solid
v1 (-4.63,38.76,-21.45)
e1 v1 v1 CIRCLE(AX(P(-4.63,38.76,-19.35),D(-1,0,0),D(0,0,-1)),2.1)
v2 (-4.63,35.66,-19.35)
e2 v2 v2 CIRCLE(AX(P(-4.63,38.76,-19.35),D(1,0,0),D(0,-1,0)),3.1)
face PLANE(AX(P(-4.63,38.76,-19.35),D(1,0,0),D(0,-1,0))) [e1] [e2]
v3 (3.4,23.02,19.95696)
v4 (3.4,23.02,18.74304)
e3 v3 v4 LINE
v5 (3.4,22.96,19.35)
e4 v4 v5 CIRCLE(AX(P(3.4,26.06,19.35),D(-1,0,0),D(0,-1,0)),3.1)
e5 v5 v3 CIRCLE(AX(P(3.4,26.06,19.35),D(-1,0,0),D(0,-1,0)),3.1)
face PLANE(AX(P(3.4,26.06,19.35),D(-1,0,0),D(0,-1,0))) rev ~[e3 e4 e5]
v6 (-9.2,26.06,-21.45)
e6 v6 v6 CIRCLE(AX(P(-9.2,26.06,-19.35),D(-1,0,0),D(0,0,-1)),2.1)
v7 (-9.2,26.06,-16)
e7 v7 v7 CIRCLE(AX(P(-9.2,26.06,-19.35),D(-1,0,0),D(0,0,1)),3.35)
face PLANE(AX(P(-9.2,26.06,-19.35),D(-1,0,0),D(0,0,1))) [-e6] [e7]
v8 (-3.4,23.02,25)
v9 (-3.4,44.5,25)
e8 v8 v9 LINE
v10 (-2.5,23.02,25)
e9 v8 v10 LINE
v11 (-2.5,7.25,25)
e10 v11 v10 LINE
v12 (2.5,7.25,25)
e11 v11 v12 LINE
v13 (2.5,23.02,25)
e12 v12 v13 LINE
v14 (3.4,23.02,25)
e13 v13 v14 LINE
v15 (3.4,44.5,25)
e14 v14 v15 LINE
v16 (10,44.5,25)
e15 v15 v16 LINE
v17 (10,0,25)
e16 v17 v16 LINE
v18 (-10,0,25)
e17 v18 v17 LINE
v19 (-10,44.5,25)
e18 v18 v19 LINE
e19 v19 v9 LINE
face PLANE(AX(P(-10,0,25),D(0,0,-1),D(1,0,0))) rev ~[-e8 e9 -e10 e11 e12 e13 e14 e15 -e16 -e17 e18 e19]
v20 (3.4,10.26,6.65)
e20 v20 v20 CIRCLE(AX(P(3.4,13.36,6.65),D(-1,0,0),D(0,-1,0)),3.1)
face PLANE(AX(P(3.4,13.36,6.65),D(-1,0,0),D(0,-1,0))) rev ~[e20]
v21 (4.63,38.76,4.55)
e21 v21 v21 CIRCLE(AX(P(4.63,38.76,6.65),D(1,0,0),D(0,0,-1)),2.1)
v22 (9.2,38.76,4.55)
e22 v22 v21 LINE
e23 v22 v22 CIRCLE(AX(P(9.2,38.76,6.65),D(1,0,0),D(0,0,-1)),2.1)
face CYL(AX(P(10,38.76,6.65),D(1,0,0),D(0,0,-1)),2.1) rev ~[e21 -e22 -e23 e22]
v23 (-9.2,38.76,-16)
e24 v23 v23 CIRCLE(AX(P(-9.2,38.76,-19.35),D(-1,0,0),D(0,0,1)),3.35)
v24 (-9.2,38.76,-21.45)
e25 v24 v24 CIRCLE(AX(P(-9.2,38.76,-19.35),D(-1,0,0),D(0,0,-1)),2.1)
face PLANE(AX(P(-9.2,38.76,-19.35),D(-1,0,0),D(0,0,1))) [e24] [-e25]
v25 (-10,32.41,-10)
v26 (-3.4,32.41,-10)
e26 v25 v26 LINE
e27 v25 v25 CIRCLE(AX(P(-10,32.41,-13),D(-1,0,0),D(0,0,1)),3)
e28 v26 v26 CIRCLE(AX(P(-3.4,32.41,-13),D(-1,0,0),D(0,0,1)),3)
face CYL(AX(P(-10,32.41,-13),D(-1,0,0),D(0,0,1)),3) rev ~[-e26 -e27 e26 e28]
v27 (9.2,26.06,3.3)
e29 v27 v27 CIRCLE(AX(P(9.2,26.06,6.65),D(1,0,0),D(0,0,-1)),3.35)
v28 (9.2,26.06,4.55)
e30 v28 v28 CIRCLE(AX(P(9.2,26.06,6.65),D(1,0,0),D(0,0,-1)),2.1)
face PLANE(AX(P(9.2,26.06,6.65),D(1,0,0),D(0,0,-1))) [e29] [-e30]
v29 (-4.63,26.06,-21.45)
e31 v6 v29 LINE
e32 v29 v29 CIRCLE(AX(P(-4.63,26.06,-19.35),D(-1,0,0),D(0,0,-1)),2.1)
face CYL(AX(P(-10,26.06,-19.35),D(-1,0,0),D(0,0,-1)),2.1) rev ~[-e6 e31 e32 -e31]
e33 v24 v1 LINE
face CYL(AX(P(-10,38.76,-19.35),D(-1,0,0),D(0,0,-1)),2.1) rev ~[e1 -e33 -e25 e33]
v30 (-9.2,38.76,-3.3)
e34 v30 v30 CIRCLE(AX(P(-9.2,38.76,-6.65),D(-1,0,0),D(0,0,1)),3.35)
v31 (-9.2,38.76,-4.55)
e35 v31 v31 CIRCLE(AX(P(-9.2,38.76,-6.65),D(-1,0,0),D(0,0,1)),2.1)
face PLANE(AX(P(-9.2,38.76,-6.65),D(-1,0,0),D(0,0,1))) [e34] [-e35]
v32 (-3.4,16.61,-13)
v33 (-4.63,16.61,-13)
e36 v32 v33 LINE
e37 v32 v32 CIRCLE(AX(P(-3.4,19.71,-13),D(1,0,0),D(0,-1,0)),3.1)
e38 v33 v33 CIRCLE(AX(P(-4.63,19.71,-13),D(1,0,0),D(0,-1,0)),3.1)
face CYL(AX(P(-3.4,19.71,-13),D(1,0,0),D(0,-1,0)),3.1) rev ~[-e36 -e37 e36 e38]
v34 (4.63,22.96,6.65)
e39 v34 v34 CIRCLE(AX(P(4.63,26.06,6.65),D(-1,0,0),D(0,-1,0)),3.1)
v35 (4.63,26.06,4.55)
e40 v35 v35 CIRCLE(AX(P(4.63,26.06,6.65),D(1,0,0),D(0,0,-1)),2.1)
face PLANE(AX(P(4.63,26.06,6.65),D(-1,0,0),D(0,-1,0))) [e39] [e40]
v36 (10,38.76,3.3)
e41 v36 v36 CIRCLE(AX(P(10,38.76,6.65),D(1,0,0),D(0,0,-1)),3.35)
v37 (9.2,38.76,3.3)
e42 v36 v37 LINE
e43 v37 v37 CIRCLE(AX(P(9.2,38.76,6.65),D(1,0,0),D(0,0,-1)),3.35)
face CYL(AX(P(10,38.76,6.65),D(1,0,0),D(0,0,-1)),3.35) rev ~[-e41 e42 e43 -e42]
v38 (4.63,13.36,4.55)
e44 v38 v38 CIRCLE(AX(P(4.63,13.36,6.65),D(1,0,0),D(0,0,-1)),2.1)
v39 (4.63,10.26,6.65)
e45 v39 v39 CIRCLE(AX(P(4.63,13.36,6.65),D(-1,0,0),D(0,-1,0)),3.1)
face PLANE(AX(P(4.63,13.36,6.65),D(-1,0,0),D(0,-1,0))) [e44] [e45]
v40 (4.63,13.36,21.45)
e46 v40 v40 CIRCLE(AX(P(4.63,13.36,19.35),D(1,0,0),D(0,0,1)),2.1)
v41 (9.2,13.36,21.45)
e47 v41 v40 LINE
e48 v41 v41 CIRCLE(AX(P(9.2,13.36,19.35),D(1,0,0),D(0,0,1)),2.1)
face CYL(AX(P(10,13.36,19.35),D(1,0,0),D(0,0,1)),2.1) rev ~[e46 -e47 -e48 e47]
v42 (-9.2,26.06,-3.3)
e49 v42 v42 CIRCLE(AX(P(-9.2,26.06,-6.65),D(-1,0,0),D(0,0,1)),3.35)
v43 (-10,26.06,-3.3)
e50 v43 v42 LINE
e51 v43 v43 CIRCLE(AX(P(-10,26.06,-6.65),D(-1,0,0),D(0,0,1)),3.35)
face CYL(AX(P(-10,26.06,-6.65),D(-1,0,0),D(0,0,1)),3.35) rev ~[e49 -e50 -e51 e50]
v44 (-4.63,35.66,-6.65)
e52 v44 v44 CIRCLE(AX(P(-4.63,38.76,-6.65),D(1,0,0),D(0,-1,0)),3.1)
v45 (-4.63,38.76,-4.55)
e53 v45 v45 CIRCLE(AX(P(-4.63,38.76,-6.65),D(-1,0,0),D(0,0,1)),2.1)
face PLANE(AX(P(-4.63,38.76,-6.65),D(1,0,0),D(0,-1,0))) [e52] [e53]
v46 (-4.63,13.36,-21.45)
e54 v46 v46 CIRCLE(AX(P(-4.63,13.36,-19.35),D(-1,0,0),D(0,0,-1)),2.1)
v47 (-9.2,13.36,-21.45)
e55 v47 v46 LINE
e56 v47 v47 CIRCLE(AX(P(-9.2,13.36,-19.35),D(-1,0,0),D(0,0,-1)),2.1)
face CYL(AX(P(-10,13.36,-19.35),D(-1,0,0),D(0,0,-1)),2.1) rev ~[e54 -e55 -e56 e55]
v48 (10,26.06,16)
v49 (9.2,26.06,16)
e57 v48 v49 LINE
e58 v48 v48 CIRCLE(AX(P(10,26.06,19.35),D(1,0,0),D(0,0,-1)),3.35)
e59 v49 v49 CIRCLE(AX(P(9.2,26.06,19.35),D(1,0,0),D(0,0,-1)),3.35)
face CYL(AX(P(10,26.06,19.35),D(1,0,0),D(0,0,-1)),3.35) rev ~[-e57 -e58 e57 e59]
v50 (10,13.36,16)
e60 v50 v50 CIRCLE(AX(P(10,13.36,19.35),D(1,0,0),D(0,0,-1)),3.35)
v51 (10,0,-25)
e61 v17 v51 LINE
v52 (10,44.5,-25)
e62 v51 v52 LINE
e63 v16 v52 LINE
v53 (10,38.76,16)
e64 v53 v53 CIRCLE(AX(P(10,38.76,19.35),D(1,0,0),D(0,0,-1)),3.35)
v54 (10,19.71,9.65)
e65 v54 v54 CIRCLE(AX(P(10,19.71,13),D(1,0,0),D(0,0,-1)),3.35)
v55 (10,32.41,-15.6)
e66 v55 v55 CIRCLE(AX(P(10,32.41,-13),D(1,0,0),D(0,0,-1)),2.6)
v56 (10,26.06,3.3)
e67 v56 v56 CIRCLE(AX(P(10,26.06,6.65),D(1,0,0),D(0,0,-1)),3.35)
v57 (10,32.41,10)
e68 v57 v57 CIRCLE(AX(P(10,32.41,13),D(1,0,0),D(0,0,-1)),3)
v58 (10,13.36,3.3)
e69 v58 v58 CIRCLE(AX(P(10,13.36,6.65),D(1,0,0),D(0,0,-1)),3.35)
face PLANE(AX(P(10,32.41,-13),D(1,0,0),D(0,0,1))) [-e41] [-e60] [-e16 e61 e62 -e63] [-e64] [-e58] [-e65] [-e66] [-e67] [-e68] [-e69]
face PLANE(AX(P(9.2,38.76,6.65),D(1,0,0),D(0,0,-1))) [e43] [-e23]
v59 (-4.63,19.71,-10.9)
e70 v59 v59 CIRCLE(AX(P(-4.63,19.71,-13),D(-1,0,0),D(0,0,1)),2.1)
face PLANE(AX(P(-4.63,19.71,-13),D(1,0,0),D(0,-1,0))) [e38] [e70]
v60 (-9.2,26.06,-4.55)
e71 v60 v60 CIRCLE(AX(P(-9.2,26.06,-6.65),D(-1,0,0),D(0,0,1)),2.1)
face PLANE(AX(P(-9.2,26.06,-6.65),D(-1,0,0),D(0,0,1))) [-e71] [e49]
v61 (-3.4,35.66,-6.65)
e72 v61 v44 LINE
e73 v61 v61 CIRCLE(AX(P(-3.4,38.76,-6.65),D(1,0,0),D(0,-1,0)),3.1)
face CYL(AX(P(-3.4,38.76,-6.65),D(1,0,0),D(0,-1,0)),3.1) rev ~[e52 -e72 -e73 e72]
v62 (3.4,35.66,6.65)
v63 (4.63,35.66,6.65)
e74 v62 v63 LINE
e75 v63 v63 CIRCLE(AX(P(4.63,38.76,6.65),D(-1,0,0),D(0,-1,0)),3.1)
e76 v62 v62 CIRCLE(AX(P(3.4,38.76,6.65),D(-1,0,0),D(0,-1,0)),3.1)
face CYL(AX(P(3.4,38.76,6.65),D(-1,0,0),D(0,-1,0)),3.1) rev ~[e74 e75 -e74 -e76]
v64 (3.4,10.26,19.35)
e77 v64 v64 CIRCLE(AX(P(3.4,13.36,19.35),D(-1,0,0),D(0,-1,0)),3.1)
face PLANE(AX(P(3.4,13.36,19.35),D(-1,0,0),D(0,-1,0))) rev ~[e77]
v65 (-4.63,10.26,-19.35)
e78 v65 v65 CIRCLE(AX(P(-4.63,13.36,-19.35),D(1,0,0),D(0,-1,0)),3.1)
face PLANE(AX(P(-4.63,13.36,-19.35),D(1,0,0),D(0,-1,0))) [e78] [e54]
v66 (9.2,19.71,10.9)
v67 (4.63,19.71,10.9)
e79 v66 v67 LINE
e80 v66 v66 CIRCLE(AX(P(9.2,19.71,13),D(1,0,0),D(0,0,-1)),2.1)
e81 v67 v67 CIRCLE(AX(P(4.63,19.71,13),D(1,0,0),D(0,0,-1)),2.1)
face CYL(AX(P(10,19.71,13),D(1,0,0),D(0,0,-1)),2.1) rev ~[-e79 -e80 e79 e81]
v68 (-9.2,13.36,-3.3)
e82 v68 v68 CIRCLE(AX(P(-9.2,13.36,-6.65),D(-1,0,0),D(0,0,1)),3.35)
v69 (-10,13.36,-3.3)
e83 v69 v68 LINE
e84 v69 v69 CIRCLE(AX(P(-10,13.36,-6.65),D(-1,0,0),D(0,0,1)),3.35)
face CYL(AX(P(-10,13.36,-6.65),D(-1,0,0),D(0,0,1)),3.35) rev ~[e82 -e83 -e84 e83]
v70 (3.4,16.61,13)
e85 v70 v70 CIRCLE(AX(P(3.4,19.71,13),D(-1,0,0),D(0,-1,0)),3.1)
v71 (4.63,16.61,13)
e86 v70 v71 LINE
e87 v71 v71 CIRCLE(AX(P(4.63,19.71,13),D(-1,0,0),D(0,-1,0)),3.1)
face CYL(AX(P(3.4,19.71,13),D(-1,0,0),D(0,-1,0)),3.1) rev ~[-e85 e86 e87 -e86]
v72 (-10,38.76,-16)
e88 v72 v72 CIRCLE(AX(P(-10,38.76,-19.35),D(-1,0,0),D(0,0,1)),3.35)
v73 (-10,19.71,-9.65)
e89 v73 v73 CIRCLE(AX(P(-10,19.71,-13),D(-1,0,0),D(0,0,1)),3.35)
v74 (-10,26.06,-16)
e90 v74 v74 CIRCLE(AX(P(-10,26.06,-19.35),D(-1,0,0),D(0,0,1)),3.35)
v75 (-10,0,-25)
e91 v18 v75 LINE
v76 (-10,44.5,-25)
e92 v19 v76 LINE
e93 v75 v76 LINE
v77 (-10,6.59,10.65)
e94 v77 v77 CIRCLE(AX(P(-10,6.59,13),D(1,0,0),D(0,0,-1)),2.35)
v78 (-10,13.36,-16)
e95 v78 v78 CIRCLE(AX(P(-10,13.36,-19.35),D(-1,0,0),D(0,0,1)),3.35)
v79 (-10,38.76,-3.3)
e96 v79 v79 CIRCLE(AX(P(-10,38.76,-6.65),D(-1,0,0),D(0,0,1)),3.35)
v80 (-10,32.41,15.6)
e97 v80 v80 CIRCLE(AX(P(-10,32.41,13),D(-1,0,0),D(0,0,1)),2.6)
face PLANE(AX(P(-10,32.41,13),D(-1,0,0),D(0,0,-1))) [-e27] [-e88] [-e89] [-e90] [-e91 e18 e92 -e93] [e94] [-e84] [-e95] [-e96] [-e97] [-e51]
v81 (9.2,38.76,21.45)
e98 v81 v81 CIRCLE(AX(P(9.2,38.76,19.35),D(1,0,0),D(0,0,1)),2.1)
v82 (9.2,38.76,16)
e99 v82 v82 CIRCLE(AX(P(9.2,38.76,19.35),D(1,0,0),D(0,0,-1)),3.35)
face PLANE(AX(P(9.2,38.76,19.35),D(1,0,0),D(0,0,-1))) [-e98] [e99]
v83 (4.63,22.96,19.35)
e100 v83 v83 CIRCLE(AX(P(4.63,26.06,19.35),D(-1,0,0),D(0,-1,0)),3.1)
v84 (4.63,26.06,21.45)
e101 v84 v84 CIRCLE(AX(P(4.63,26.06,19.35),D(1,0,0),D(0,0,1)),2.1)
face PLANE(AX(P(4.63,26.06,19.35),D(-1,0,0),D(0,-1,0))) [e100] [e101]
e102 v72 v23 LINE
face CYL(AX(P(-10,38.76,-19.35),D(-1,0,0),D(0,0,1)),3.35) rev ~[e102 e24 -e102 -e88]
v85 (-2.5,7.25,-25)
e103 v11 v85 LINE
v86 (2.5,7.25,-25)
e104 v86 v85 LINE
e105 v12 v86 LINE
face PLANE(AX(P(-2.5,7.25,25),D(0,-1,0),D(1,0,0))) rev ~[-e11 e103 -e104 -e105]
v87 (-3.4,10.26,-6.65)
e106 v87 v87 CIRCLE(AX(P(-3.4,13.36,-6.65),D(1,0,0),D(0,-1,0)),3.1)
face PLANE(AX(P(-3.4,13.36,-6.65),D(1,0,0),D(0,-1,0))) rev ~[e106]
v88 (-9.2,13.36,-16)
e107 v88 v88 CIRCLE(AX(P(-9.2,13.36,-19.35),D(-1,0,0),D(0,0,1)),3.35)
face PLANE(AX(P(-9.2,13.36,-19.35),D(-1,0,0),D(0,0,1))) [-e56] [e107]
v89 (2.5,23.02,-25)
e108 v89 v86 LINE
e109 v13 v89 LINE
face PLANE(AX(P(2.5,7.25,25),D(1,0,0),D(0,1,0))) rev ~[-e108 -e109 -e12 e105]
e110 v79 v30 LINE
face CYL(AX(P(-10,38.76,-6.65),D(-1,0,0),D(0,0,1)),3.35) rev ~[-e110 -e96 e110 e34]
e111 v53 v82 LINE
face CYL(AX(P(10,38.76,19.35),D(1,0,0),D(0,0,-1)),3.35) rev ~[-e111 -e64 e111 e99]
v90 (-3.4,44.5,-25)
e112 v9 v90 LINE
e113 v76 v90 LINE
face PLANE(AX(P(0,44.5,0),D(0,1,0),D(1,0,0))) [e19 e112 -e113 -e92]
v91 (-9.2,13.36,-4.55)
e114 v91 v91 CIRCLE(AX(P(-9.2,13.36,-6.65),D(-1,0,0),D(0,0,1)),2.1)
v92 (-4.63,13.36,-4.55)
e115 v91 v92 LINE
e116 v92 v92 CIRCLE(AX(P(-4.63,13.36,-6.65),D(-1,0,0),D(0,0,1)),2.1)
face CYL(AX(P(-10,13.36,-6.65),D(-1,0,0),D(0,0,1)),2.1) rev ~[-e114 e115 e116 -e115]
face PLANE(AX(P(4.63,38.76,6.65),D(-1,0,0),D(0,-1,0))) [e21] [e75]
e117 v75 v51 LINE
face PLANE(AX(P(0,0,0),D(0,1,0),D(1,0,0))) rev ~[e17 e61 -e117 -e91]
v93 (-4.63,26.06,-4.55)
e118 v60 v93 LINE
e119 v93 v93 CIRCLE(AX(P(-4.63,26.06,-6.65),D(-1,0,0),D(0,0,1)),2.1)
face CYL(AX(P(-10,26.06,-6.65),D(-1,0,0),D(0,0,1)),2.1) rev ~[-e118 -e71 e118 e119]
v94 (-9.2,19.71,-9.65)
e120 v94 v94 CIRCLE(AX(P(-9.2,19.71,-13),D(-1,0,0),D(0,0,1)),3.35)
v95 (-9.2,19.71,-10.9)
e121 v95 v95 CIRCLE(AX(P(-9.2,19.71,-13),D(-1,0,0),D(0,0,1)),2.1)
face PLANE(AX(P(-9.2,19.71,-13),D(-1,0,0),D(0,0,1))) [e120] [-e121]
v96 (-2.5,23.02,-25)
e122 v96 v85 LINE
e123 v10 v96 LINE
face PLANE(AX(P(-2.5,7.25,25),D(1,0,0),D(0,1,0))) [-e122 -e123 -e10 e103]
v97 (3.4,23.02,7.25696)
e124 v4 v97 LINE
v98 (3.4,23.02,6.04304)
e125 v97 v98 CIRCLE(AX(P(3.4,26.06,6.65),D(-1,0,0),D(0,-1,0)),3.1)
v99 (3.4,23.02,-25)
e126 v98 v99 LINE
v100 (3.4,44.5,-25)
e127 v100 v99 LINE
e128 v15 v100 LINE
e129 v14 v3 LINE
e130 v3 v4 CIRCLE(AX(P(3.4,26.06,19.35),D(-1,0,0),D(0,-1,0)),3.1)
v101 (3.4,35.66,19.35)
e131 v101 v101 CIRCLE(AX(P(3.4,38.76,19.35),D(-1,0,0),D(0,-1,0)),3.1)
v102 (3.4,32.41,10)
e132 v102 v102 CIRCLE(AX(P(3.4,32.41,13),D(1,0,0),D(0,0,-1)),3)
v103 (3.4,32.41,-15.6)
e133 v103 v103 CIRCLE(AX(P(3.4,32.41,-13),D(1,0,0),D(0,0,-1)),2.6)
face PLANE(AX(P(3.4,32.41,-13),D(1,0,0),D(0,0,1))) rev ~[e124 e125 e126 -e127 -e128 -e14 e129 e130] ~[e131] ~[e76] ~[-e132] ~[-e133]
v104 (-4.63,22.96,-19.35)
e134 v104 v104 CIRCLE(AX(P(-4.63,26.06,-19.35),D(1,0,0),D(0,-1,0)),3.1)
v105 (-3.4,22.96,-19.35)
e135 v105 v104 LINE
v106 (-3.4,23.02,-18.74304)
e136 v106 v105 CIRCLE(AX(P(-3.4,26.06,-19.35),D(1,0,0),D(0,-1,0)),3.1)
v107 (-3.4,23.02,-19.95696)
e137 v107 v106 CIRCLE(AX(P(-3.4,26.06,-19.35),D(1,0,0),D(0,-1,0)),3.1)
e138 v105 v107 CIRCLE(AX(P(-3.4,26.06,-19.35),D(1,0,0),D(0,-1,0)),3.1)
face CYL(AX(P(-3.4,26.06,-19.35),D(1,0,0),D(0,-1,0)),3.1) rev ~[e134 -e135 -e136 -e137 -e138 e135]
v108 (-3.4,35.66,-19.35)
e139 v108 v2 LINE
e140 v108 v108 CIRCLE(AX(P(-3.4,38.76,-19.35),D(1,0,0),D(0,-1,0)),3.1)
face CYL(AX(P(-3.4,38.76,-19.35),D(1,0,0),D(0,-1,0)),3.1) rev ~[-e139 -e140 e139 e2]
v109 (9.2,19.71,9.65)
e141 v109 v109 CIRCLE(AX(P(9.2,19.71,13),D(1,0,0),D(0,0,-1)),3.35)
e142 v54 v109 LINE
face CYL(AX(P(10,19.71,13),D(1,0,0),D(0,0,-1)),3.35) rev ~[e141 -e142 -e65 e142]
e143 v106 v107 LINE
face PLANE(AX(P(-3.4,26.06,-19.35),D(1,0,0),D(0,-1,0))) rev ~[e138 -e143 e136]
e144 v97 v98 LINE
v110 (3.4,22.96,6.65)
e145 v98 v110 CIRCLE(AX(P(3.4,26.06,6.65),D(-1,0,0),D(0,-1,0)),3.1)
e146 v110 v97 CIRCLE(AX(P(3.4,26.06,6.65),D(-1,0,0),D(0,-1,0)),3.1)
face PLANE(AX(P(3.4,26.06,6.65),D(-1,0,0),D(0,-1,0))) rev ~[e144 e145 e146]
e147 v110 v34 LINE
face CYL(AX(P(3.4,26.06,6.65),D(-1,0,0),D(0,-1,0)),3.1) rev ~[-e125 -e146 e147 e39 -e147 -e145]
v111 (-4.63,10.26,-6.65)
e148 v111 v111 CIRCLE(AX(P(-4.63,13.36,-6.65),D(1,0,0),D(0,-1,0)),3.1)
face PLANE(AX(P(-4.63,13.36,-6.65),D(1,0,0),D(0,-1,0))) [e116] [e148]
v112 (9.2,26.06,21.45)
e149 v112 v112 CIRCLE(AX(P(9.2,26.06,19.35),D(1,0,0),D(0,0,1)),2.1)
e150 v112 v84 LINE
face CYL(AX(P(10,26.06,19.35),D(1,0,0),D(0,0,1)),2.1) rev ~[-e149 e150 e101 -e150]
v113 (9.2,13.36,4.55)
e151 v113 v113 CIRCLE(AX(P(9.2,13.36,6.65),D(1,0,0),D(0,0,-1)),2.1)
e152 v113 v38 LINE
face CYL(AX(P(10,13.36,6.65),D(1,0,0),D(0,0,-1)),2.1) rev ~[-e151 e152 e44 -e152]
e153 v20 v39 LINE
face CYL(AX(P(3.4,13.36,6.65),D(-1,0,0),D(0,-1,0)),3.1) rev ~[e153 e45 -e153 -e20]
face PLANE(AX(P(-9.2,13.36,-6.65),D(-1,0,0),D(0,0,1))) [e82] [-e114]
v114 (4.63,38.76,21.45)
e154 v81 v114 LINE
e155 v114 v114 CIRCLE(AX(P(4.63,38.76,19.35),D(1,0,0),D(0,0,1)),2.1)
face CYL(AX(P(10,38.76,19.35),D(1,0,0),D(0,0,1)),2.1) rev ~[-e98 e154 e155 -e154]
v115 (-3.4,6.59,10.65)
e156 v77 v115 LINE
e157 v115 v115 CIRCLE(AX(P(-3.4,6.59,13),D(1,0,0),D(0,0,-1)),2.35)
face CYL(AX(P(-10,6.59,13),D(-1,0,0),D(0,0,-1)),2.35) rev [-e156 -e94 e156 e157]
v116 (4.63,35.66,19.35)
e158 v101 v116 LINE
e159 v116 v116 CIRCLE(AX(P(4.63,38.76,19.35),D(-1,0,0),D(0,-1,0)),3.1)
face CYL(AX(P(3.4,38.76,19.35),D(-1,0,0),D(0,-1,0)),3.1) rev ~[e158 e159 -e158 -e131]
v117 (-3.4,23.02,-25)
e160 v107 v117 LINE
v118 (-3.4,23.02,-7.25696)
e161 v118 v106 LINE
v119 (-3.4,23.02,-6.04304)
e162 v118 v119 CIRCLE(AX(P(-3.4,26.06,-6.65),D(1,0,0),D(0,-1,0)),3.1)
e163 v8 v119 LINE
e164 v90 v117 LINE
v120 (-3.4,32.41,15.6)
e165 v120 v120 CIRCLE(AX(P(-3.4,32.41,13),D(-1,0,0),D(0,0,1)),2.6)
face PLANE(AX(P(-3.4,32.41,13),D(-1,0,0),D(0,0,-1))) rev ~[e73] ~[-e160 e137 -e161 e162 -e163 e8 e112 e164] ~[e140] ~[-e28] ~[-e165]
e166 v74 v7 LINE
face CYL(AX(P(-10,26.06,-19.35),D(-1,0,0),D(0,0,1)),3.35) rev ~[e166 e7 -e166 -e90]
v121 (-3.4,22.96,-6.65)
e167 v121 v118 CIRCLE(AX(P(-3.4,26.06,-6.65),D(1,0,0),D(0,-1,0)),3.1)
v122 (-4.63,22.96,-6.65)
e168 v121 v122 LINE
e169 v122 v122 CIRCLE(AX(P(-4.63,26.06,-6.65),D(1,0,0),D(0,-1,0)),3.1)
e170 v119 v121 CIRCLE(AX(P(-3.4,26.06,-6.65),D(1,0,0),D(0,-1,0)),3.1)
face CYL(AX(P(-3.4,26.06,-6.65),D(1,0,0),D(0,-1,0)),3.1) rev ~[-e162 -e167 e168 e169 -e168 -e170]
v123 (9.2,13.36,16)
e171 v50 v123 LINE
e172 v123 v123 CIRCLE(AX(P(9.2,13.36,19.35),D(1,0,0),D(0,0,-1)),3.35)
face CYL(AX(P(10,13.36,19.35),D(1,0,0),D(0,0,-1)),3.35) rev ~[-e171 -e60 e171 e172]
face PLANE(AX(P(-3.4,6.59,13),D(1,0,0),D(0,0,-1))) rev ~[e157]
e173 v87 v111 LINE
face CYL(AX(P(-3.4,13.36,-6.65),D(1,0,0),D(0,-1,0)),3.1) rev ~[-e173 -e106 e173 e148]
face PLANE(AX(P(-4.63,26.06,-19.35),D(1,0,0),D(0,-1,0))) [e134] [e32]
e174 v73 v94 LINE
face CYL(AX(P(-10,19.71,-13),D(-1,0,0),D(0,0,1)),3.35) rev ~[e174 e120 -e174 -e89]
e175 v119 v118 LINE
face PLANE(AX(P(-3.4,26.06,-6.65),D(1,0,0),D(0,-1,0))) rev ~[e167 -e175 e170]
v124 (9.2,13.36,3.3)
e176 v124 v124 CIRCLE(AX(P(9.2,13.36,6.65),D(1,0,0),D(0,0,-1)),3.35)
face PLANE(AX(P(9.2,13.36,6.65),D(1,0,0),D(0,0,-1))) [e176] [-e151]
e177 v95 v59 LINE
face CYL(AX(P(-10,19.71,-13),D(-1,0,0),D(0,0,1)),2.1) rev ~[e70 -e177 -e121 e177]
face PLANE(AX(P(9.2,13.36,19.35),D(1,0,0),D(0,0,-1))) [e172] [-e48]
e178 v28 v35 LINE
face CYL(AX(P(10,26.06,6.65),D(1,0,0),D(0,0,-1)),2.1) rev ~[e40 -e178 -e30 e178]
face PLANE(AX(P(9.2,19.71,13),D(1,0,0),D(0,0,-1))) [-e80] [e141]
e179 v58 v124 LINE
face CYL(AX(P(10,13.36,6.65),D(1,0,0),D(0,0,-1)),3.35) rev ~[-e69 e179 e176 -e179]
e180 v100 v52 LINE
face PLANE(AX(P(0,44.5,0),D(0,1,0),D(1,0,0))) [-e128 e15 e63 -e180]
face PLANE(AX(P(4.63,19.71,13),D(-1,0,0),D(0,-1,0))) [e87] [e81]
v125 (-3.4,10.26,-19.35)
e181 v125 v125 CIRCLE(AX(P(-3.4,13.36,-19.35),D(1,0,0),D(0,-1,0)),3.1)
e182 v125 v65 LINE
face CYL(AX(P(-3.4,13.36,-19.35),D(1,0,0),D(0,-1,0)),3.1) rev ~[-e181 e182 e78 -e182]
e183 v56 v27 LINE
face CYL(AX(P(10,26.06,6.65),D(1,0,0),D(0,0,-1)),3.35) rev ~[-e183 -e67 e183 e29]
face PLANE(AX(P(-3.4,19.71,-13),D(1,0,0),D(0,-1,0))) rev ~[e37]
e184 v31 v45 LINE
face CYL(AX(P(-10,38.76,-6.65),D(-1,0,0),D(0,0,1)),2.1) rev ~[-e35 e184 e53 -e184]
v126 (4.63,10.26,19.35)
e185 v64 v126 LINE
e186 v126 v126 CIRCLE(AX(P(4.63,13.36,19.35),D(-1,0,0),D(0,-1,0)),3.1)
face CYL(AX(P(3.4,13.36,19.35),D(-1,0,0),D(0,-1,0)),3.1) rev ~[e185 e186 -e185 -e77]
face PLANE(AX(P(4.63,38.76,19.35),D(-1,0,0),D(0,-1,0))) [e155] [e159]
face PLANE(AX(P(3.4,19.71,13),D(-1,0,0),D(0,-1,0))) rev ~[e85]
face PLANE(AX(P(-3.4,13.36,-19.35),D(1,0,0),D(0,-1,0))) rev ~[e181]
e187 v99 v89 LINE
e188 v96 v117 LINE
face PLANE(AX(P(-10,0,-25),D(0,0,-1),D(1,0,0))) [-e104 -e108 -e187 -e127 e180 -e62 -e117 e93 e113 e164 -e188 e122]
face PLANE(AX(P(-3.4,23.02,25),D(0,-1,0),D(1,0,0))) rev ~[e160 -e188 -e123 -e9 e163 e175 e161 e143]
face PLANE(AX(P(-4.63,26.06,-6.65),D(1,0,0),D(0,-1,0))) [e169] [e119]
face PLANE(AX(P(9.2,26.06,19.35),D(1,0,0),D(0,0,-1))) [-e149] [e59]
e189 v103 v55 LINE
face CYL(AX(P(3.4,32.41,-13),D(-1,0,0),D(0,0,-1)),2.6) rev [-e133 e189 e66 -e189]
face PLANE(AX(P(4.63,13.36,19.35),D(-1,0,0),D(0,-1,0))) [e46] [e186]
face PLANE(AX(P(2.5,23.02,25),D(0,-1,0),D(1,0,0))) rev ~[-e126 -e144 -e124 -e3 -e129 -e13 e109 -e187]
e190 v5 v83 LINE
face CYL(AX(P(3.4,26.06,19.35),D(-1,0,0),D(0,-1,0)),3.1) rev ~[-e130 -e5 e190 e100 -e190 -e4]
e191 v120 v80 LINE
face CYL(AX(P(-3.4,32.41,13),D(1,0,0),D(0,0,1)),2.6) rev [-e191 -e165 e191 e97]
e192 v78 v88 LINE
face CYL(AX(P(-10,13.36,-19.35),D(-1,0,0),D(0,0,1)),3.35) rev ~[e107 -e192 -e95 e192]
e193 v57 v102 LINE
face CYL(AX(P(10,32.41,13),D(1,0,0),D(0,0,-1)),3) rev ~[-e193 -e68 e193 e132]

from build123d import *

# Parameters (mm, degrees)
SKETCH2_W           = 20
SKETCH2_H           = 50
BOSS_EXTRUDE1_DEPTH = 44.5
SKETCH3_W           = 6.8
SKETCH3_H           = 21.48
SKETCH3_W_2         = 5
SKETCH3_H_2         = 15.77
CUT_EXTRUDE3_DEPTH  = 68.677544282
SKETCH4_R           = 3
CUT_EXTRUDE4_DEPTH  = 55.820160525
SKETCH4_3_R         = 2.1
CUT_EXTRUDE5_DEPTH  = 6.6
BOSS_EXTRUDE2_START = -6.6
SKETCH5_R           = 3
SKETCH5_R_2         = 2.6
BOSS_EXTRUDE2_DEPTH = 6.6
SKETCH6_R           = 3.1
CUT_EXTRUDE6_DEPTH  = 1.23
SKETCH8_R           = 3.35
CUT_EXTRUDE8_DEPTH  = 0.8
CIRPATTERN1_COUNT   = 2
CIRPATTERN1_ANGLE   = 180
SKETCH12_R          = 2.35
CUT_EXTRUDE9_DEPTH  = 6.6


with BuildPart() as part:
    # Sketch2 → Boss-Extrude1 (new body)
    with BuildSketch(Plane(origin=(0, 0, 0), x_dir=(1, 0, 0), z_dir=(0, 1, 0))):
        Rectangle(SKETCH2_W, SKETCH2_H)
    extrude(amount=BOSS_EXTRUDE1_DEPTH)

    # Sketch3 → Cut-Extrude3 (cut, through all)
    with BuildSketch(Plane.XY.offset(25)):
        with Locations((0, 33.76)):
            Rectangle(SKETCH3_W, SKETCH3_H)
        with Locations((0, 15.135)):
            Rectangle(SKETCH3_W_2, SKETCH3_H_2)
    extrude(amount=-CUT_EXTRUDE3_DEPTH, mode=Mode.SUBTRACT)

    # Sketch4 → Cut-Extrude4 (cut, through all)
    with BuildSketch(Plane(origin=(10, 0, 0), x_dir=(0, 0, -1), z_dir=(1, 0, 0))):
        with Locations((-13, 32.41)):
            Circle(SKETCH4_R)
    cut_extrude4 = extrude(amount=-CUT_EXTRUDE4_DEPTH, mode=Mode.SUBTRACT)

    # Sketch4<3> → Cut-Extrude5 (cut)
    with BuildSketch(Plane(origin=(10, 0, 0), x_dir=(0, 0, -1), z_dir=(1, 0, 0))):
        with Locations((-13, 19.71)):
            Circle(SKETCH4_3_R)
        with Locations((-6.65, 38.76)):
            Circle(SKETCH4_3_R)
        with Locations((-6.65, 26.06)):
            Circle(SKETCH4_3_R)
        with Locations((-6.65, 13.36)):
            Circle(SKETCH4_3_R)
        with Locations((-19.35, 13.36)):
            Circle(SKETCH4_3_R)
        with Locations((-19.35, 26.06)):
            Circle(SKETCH4_3_R)
        with Locations((-19.35, 38.76)):
            Circle(SKETCH4_3_R)
    cut_extrude5 = extrude(amount=-CUT_EXTRUDE5_DEPTH, mode=Mode.SUBTRACT)

    # Sketch5 → Boss-Extrude2 (add)
    with BuildSketch(Plane.ZY.offset(10).offset(BOSS_EXTRUDE2_START)):
        with Locations((13, 32.41)):
            Circle(SKETCH5_R)
        with Locations((13, 32.41)):
            Circle(SKETCH5_R_2, mode=Mode.SUBTRACT)
    boss_extrude2 = extrude(amount=BOSS_EXTRUDE2_DEPTH)

    # Sketch6 → Cut-Extrude6 (cut)
    with BuildSketch(Plane.ZY.offset(-3.4)):
        with Locations((6.65, 13.36)):
            Circle(SKETCH6_R)
        with Locations((6.65, 26.06)):
            Circle(SKETCH6_R)
        with Locations((13, 19.71)):
            Circle(SKETCH6_R)
        with Locations((19.35, 13.36)):
            Circle(SKETCH6_R)
        with Locations((19.35, 26.06)):
            Circle(SKETCH6_R)
        with Locations((19.35, 38.76)):
            Circle(SKETCH6_R)
        with Locations((6.65, 38.76)):
            Circle(SKETCH6_R)
    cut_extrude6 = extrude(amount=-CUT_EXTRUDE6_DEPTH, mode=Mode.SUBTRACT)

    # Sketch8 → Cut-Extrude8 (cut)
    with BuildSketch(Plane(origin=(10, 0, 0), x_dir=(0, 0, -1), z_dir=(1, 0, 0))):
        with Locations((-6.65, 38.76)):
            Circle(SKETCH8_R)
        with Locations((-6.65, 26.06)):
            Circle(SKETCH8_R)
        with Locations((-6.65, 13.36)):
            Circle(SKETCH8_R)
        with Locations((-13, 19.71)):
            Circle(SKETCH8_R)
        with Locations((-19.35, 38.76)):
            Circle(SKETCH8_R)
        with Locations((-19.35, 26.06)):
            Circle(SKETCH8_R)
        with Locations((-19.35, 13.36)):
            Circle(SKETCH8_R)
    cut_extrude8 = extrude(amount=-CUT_EXTRUDE8_DEPTH, mode=Mode.SUBTRACT)

    # CirPattern1: Cut-Extrude4, Cut-Extrude5, Boss-Extrude2, Cut-Extrude6, Cut-Extrude8 ×2 about axis
    cirpattern1_axis = Axis((0, 44.5, 0), (0, -1, 0))
    add([cut_extrude4.rotate(cirpattern1_axis, i * CIRPATTERN1_ANGLE / (CIRPATTERN1_COUNT - 1)) for i in range(1, CIRPATTERN1_COUNT)], mode=Mode.SUBTRACT)
    add([cut_extrude5.rotate(cirpattern1_axis, i * CIRPATTERN1_ANGLE / (CIRPATTERN1_COUNT - 1)) for i in range(1, CIRPATTERN1_COUNT)], mode=Mode.SUBTRACT)
    add([boss_extrude2.rotate(cirpattern1_axis, i * CIRPATTERN1_ANGLE / (CIRPATTERN1_COUNT - 1)) for i in range(1, CIRPATTERN1_COUNT)])
    add([cut_extrude6.rotate(cirpattern1_axis, i * CIRPATTERN1_ANGLE / (CIRPATTERN1_COUNT - 1)) for i in range(1, CIRPATTERN1_COUNT)], mode=Mode.SUBTRACT)
    add([cut_extrude8.rotate(cirpattern1_axis, i * CIRPATTERN1_ANGLE / (CIRPATTERN1_COUNT - 1)) for i in range(1, CIRPATTERN1_COUNT)], mode=Mode.SUBTRACT)

    # Sketch12 → Cut-Extrude9 (cut)
    with BuildSketch(Plane(origin=(-10, 0, 0), x_dir=(0, 0, -1), z_dir=(1, 0, 0))):
        with Locations((-13, 6.59)):
            Circle(SKETCH12_R)
    extrude(amount=CUT_EXTRUDE9_DEPTH, mode=Mode.SUBTRACT)


solid = part.part
